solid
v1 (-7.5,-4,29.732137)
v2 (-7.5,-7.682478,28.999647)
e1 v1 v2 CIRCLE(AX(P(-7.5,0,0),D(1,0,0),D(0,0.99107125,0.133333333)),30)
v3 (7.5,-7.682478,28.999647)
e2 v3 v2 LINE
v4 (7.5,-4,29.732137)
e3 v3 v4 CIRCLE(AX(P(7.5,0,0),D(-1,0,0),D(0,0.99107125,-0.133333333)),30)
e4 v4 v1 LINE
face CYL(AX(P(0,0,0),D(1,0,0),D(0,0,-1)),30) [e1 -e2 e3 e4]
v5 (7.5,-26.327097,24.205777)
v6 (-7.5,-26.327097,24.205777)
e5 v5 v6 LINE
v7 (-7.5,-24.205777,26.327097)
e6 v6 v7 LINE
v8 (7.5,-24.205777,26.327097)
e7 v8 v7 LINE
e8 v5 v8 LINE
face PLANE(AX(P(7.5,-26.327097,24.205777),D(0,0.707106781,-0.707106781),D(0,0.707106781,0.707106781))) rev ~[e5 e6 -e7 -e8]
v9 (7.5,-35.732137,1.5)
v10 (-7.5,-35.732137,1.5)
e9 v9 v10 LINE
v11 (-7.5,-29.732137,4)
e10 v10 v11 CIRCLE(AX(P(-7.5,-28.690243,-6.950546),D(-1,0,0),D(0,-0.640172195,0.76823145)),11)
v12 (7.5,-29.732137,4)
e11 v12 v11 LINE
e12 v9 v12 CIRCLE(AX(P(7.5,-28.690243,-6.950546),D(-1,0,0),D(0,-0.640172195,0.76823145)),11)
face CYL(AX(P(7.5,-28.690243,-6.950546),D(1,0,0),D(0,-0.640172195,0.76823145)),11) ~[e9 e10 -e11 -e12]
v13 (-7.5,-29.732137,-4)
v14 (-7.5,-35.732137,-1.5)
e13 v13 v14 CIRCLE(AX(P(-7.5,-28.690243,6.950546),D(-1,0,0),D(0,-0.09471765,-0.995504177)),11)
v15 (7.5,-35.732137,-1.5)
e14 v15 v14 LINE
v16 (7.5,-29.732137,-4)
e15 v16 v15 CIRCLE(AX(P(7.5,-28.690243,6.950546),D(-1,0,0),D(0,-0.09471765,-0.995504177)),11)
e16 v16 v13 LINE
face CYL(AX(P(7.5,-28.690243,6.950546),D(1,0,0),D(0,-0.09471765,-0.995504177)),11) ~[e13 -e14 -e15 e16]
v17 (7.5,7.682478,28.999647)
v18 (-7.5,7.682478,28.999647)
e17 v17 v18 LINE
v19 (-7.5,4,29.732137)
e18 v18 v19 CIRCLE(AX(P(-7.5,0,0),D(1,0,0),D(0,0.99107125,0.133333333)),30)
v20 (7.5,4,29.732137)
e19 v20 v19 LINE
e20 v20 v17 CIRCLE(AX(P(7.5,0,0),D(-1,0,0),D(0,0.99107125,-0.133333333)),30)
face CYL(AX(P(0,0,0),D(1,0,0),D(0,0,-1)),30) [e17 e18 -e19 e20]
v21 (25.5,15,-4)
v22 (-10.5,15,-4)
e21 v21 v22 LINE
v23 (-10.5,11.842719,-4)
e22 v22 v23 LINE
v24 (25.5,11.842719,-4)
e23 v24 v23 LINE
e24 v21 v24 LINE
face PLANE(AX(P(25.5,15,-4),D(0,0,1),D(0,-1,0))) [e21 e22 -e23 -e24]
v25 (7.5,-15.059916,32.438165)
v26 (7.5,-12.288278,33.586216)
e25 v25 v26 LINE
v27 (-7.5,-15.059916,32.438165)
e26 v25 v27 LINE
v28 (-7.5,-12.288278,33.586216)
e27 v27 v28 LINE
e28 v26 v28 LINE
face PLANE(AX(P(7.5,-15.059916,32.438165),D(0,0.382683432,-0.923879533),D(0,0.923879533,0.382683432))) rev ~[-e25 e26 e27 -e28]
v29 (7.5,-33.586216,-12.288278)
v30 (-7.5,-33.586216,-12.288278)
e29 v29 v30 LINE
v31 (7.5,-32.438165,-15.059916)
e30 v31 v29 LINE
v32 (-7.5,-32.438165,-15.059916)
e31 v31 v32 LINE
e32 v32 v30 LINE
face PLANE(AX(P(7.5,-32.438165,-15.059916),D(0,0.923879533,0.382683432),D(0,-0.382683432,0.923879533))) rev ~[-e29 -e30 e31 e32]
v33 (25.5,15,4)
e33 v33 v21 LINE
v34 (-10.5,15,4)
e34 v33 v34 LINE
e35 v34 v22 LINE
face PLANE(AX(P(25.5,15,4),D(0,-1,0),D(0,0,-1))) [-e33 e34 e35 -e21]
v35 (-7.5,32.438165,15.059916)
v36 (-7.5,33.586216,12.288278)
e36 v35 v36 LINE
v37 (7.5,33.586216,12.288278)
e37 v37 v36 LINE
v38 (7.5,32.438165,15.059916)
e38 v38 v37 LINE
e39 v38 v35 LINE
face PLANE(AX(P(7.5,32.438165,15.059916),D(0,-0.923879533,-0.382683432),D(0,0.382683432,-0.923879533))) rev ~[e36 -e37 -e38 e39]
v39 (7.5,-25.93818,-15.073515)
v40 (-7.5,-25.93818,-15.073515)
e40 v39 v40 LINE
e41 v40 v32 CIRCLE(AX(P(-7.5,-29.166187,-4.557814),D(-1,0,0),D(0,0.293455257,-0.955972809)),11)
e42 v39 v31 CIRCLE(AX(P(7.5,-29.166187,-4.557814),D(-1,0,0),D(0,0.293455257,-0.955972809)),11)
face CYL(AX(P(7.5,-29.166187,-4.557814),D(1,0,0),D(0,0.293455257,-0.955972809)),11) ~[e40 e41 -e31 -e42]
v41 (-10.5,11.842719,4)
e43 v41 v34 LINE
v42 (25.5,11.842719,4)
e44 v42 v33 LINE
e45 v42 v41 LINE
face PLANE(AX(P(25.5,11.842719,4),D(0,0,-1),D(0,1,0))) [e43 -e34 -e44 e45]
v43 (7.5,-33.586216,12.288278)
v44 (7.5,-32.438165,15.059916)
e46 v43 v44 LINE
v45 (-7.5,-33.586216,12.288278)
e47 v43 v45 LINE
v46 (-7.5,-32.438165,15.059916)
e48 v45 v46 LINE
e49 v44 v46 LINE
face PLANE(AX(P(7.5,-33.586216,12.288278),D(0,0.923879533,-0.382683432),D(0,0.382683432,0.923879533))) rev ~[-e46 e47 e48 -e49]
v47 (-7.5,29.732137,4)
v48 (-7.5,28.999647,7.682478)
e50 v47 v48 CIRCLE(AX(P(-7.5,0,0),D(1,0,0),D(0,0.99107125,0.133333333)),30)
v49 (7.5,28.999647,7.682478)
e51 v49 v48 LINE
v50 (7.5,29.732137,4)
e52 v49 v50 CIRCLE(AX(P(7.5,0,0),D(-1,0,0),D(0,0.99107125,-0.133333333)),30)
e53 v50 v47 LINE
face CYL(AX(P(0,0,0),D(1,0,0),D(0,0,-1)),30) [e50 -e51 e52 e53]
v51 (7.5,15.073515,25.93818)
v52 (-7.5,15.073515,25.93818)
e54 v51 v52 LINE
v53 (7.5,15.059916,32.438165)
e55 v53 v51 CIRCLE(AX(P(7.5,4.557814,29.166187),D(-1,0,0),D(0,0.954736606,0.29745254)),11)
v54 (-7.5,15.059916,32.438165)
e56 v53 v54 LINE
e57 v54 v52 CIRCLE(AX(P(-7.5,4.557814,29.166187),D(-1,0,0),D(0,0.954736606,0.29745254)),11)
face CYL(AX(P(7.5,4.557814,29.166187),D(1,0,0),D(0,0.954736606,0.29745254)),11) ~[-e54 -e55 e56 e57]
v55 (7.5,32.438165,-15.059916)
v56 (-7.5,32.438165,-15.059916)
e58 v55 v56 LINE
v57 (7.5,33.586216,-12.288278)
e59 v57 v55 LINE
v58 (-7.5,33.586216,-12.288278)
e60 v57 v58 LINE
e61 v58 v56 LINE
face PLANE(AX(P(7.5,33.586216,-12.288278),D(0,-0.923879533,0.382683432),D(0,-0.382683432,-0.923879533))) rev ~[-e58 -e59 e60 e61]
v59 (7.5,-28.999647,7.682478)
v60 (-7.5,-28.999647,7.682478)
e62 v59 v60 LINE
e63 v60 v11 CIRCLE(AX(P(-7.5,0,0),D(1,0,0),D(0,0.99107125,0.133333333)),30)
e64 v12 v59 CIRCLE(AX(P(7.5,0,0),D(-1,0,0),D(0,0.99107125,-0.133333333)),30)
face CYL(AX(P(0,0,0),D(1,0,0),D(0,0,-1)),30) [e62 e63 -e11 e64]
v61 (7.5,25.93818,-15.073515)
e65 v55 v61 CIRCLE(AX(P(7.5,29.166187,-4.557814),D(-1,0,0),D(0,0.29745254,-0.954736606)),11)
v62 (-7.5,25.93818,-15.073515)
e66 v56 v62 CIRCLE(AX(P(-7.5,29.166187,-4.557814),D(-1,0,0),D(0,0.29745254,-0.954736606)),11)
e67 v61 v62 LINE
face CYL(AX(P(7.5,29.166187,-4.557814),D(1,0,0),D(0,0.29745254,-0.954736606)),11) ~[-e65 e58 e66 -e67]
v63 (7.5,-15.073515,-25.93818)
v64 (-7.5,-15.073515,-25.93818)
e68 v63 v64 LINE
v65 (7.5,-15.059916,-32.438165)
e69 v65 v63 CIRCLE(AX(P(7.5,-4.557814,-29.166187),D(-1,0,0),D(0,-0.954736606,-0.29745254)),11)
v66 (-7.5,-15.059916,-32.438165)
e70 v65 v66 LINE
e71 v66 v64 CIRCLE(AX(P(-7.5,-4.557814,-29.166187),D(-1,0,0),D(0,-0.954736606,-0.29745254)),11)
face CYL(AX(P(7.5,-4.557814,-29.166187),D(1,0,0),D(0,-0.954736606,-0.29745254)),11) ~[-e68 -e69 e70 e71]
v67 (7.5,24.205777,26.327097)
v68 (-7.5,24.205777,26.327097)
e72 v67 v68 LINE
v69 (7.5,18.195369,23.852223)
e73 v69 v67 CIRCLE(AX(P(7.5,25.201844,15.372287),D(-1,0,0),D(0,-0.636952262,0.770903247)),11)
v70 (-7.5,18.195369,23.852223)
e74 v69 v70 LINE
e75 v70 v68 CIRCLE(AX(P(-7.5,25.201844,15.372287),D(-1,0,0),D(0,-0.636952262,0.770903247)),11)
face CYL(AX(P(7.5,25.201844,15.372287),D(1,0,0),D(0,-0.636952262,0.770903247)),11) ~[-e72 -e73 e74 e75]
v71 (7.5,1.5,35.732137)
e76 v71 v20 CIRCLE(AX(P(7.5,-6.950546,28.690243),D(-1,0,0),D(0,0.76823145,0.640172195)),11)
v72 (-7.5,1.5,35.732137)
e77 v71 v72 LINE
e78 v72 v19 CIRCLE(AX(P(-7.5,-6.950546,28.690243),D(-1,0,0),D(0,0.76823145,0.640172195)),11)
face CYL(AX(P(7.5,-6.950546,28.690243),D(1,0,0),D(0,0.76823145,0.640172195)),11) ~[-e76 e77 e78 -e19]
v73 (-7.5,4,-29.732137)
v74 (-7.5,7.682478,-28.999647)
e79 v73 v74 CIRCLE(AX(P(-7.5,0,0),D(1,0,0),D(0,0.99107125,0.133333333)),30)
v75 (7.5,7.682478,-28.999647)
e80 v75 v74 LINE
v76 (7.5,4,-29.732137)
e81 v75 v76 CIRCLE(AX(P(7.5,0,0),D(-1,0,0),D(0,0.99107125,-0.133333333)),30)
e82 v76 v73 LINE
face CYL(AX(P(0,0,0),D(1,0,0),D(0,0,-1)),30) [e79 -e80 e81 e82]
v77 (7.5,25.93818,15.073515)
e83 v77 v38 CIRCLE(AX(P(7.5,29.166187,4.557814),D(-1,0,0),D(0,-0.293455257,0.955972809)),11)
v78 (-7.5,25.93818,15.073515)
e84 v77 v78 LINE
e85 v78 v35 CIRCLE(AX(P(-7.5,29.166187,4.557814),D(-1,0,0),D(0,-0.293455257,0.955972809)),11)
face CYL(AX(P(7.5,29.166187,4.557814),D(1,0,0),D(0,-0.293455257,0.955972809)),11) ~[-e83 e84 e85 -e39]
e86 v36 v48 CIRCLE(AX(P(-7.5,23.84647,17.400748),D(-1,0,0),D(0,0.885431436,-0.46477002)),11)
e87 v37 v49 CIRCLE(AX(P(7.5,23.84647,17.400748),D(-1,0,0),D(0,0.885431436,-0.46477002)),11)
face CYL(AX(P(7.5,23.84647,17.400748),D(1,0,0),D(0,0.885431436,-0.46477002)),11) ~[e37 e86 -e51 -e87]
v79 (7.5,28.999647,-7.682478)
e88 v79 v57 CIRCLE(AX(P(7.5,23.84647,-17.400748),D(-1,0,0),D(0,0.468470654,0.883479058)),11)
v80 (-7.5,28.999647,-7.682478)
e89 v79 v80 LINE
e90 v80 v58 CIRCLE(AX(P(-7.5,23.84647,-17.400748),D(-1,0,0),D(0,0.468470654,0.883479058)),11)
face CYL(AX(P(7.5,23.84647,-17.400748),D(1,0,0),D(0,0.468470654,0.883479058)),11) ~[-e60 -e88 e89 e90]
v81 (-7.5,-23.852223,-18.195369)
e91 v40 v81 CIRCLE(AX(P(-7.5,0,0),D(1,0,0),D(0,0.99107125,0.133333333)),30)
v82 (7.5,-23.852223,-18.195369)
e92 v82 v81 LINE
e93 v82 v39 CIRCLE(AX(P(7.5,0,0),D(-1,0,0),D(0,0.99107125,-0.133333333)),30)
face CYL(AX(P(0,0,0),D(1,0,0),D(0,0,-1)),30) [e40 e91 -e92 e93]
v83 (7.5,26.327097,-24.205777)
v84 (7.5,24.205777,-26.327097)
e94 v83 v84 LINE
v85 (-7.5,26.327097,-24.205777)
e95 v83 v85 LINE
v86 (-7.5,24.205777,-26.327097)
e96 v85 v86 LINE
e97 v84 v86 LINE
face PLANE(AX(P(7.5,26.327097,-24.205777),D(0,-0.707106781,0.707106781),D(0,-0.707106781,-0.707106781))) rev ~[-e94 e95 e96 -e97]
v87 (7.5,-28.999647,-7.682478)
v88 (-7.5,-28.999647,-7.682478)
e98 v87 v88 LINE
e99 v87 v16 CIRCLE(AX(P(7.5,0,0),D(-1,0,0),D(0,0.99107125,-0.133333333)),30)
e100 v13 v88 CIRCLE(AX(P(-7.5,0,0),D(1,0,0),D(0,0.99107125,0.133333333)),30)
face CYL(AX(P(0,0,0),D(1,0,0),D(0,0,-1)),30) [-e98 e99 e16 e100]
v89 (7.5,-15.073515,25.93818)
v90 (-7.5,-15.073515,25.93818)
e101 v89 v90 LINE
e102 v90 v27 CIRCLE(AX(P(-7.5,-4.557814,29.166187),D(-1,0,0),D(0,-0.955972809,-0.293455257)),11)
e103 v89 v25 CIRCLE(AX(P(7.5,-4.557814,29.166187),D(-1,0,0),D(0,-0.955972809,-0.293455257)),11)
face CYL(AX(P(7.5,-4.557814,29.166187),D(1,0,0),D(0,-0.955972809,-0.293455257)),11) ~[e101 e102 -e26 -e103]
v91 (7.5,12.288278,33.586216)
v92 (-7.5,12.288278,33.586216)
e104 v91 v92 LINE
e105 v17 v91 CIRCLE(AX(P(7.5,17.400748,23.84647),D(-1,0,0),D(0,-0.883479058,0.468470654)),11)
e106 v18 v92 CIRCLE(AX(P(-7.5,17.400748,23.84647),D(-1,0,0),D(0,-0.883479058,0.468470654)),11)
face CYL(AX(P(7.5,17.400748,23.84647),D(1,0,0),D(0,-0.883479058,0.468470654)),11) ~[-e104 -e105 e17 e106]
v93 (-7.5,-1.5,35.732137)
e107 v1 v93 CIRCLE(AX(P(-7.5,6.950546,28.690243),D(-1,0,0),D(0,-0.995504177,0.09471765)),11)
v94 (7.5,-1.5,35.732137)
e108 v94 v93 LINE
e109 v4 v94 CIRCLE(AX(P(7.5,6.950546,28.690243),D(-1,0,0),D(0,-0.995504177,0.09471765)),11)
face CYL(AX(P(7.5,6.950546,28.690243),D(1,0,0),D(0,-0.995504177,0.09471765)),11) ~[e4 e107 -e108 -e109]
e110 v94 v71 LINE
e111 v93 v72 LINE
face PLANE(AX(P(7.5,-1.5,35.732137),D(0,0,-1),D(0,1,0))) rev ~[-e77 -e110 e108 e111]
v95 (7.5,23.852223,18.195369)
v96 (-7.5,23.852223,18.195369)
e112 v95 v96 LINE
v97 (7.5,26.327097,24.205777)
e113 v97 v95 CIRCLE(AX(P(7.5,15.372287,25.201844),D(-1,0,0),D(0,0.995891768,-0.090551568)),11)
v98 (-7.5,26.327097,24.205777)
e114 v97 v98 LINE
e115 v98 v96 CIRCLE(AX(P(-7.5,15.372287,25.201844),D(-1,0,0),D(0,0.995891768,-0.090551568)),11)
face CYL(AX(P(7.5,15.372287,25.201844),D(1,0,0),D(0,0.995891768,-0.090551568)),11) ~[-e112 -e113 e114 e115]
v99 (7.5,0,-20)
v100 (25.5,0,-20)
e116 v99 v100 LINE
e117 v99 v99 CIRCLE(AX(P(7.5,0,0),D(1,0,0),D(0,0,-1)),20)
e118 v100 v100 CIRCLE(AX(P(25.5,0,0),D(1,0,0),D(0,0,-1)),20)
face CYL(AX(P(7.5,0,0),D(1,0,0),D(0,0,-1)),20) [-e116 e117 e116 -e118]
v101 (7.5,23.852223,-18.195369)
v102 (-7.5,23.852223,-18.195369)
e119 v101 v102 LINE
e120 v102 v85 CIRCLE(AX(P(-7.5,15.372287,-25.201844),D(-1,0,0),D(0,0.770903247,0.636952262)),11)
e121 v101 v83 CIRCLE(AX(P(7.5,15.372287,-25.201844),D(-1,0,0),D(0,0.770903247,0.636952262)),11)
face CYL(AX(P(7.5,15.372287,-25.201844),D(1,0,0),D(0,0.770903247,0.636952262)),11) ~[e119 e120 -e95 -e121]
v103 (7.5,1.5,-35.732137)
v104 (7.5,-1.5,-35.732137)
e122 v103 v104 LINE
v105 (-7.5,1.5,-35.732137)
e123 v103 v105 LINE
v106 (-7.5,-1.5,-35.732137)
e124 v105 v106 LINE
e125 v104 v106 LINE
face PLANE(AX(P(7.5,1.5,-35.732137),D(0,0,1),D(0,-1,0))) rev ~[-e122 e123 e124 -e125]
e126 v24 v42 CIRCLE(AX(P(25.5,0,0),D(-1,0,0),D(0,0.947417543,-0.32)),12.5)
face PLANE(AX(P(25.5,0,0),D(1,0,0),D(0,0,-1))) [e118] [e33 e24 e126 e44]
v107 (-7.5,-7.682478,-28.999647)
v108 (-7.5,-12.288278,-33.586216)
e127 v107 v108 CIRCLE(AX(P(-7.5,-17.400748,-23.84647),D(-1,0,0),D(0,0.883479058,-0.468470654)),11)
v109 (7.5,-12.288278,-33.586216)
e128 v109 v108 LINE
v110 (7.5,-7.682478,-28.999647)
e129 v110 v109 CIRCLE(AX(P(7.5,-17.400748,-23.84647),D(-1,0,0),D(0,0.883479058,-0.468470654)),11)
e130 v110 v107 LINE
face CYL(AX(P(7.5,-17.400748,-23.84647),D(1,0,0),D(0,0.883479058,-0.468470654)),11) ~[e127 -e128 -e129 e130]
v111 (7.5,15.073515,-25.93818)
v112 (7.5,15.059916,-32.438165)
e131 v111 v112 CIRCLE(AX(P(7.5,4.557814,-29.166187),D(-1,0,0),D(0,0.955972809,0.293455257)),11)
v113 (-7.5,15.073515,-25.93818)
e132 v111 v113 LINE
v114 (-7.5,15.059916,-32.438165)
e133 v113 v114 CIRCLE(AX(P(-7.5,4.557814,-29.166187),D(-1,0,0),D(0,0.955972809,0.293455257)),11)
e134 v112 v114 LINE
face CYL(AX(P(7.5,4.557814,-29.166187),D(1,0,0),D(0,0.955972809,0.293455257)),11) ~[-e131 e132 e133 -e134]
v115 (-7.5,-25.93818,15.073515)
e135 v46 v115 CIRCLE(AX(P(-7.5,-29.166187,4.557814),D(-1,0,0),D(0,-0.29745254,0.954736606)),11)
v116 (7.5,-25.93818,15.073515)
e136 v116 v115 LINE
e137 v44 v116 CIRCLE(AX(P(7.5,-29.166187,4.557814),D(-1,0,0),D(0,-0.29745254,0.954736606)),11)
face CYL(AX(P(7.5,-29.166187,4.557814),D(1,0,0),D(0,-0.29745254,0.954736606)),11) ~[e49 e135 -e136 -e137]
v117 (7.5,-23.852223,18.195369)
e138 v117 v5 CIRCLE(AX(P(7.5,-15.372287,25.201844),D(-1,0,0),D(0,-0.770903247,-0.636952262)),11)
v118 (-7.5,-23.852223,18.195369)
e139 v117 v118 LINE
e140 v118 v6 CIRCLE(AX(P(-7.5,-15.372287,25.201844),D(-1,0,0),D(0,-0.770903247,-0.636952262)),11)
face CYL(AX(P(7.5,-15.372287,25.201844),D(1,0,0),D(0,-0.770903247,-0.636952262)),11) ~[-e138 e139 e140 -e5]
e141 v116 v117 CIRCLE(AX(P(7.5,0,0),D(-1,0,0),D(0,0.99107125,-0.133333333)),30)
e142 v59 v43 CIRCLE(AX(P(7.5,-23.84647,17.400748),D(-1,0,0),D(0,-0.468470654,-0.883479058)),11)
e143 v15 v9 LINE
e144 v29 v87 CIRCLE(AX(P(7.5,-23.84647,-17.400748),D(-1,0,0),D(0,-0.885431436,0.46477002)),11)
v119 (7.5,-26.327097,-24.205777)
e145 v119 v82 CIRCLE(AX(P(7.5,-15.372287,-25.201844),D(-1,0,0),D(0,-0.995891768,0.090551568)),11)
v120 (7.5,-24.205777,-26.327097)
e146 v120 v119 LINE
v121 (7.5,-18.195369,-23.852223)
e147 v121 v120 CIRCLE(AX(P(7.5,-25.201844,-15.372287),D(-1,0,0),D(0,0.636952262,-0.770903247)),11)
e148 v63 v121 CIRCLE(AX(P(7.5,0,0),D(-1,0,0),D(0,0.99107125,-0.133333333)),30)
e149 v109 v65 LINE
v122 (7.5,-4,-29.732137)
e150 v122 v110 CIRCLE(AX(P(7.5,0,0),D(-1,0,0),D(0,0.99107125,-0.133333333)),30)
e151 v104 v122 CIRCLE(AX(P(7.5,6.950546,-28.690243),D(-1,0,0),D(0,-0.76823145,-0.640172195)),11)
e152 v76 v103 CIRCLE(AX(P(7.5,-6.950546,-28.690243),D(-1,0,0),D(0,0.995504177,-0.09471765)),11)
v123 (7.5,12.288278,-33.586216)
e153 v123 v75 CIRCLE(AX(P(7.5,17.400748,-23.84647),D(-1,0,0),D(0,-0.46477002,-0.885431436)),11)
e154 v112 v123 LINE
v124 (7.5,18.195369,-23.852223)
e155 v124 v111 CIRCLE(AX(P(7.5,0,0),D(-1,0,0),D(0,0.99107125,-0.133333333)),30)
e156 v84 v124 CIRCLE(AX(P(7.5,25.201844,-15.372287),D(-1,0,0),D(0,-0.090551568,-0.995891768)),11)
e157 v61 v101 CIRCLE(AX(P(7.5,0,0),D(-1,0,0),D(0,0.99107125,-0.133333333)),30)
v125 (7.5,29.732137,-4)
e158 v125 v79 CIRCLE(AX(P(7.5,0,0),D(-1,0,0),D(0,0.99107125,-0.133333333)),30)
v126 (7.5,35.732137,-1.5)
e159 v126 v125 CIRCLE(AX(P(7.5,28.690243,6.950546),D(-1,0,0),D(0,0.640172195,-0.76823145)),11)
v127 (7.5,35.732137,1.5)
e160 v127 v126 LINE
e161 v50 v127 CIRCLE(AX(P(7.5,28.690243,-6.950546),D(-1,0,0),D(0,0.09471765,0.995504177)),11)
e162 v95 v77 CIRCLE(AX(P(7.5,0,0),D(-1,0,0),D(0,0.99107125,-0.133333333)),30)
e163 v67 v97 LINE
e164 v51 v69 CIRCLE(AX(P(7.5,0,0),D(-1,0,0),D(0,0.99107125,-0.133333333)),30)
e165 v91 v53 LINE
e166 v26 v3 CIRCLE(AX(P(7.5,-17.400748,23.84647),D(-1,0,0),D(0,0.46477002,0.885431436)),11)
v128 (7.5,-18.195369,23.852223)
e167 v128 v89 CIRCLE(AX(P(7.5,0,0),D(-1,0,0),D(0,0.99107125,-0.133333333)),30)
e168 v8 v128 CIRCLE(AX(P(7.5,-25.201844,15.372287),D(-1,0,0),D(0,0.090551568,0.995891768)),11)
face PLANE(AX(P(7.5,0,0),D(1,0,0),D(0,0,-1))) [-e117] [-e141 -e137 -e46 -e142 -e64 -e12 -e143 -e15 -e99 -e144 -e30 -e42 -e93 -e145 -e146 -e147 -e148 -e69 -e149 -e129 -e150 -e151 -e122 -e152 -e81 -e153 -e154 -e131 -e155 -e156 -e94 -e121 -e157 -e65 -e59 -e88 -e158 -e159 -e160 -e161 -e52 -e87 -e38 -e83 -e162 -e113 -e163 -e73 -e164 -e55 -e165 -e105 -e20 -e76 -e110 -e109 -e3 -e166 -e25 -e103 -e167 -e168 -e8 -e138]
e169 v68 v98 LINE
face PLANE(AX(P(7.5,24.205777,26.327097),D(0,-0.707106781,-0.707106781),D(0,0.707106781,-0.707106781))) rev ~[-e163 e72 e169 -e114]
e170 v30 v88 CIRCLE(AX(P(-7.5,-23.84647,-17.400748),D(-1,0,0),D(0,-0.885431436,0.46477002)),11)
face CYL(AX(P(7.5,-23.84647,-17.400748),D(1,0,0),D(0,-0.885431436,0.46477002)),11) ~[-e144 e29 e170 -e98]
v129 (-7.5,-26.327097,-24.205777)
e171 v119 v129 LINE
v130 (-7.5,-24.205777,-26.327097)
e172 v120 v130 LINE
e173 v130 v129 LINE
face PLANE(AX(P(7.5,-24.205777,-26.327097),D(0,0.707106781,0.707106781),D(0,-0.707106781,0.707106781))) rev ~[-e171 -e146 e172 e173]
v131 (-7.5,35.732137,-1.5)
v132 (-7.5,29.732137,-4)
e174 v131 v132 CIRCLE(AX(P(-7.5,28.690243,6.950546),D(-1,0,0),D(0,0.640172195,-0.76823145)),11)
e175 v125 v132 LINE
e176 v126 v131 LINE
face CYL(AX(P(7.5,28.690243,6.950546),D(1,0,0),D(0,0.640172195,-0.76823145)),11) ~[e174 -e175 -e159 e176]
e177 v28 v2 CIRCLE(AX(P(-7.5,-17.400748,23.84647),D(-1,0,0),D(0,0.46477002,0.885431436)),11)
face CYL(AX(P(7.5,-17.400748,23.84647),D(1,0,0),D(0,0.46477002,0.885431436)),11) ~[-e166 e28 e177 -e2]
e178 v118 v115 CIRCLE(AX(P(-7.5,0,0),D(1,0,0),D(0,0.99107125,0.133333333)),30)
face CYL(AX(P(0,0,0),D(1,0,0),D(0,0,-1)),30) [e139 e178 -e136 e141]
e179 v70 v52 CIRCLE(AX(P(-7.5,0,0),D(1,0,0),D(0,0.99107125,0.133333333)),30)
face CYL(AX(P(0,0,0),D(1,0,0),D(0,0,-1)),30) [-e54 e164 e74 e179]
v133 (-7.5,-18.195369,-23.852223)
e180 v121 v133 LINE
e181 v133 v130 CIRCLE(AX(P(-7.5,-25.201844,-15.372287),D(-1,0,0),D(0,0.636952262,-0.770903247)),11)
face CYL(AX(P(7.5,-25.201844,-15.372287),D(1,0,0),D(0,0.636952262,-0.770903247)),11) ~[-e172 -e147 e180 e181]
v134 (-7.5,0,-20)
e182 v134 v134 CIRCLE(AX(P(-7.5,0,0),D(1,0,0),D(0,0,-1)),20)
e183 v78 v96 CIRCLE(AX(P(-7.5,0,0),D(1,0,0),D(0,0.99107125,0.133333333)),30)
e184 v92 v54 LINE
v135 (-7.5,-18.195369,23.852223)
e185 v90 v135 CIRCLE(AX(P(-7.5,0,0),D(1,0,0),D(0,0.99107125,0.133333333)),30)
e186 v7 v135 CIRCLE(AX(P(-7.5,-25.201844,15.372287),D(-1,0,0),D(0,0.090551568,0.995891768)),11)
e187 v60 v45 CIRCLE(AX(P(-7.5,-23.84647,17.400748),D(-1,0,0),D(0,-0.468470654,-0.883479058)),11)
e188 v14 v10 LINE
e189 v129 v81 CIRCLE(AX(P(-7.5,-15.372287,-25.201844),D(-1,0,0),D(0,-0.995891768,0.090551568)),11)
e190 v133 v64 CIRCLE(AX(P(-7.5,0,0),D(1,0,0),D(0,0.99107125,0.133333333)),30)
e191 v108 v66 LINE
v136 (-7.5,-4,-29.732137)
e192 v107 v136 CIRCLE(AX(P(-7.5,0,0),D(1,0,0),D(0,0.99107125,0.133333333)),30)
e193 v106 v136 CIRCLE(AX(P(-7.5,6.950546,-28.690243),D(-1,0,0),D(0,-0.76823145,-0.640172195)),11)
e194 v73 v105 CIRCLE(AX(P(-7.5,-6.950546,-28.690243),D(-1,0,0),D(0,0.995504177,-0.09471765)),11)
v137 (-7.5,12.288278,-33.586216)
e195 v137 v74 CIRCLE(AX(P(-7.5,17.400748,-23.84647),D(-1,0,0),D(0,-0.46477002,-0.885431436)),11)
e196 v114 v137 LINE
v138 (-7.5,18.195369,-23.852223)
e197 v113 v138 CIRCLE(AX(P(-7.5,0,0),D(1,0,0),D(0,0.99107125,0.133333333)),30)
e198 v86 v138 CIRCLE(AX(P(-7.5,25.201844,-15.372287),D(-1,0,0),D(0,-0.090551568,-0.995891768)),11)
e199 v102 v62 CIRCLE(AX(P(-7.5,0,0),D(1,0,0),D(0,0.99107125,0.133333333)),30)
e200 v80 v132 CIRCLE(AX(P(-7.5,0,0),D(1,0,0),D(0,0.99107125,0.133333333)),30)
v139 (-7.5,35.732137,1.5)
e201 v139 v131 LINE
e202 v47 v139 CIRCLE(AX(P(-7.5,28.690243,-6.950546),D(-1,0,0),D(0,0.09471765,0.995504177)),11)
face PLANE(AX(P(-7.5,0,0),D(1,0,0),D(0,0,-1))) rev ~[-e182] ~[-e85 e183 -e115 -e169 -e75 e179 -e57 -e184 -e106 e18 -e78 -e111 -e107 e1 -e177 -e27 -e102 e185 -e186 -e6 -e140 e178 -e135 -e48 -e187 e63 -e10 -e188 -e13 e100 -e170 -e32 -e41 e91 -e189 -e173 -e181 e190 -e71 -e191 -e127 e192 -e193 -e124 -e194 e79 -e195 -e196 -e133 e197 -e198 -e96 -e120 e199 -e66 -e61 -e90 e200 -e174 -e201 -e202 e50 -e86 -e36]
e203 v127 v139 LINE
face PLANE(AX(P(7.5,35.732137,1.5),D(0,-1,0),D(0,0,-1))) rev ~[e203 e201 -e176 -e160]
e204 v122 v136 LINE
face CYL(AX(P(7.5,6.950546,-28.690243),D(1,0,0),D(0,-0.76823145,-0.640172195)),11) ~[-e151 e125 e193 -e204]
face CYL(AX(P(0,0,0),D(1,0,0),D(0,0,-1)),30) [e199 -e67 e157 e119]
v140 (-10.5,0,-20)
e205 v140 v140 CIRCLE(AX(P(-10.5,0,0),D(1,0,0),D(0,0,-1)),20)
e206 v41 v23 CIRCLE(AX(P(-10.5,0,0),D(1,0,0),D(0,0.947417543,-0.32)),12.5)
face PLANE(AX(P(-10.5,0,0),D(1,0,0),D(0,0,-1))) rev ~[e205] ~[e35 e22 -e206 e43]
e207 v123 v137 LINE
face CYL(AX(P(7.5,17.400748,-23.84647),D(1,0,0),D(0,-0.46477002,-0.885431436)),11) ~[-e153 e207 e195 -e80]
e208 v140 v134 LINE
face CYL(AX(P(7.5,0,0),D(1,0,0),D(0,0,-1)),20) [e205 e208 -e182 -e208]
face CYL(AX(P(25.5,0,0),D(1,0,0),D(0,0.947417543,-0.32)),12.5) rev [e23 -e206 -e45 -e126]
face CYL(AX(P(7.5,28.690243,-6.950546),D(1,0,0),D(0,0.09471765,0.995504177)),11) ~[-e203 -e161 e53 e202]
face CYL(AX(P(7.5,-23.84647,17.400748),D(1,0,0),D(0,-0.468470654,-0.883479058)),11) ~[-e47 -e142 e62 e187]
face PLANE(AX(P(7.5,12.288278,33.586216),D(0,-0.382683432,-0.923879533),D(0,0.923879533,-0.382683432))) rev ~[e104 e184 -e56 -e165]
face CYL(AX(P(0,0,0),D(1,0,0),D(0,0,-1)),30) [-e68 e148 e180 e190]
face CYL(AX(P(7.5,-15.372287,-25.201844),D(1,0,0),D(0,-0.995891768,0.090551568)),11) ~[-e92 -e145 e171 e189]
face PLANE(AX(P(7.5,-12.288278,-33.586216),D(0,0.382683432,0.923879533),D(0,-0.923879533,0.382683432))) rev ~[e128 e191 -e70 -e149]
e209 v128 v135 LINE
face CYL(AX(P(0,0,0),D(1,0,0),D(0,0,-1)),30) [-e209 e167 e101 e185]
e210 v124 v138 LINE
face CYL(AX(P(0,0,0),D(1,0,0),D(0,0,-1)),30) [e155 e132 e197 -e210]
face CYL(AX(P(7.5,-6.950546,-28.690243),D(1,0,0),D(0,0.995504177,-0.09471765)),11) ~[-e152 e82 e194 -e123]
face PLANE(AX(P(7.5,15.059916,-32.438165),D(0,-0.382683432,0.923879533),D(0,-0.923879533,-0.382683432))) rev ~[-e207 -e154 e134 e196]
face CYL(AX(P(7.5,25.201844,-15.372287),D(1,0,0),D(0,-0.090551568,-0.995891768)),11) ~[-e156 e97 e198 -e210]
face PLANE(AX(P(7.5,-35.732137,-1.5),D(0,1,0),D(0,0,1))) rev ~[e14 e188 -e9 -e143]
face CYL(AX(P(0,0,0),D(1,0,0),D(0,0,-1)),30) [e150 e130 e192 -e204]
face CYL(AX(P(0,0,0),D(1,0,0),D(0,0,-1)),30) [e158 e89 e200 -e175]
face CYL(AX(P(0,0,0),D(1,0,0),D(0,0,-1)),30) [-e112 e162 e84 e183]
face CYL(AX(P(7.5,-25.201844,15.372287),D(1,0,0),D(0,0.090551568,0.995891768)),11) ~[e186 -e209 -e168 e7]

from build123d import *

# Parameters (mm, degrees)
SKETCH1_R           = 30
BOSS_EXTRUDE1_DEPTH = 7.5
BOSS_EXTRUDE2_DEPTH = 15
CIRPATTERN1_COUNT   = 16
SKETCH3_R           = 20
BOSS_EXTRUDE3_DEPTH = 18
CUT_EXTRUDE1_DEPTH  = 44


with BuildPart() as part:
    # Sketch1 → Boss-Extrude1 (new body, symmetric)
    with BuildSketch(Plane(origin=(0, 0, 0), x_dir=(0, 0, -1), z_dir=(1, 0, 0))):
        Circle(SKETCH1_R)
    extrude(amount=BOSS_EXTRUDE1_DEPTH, both=True)

    # Sketch2 → Boss-Extrude2 (add, through all)
    with BuildSketch(Plane(origin=(7.5, 0, 0), x_dir=(0, 0, -1), z_dir=(1, 0, 0))):
        with BuildLine():
            Line((-1.5, 35.732137495), (1.5, 35.732137495))
            ThreePointArc((1.5, 35.732137495), (3.203300204, 32.92101258), (4, 29.732137495))
            ThreePointArc((4, 29.732137495), (0, 30), (-4, 29.732137495))
            ThreePointArc((-4, 29.732137495), (-3.203300204, 32.92101258), (-1.5, 35.732137495))
        make_face()
    boss_extrude2 = extrude(amount=-BOSS_EXTRUDE2_DEPTH)

    # CirPattern1: Boss-Extrude2 ×16 about axis
    cirpattern1_axis = Axis((0, 0, 0), (1, 0, 0))
    for i in range(1, CIRPATTERN1_COUNT):
        add(boss_extrude2.rotate(cirpattern1_axis, i * 360 / CIRPATTERN1_COUNT))

    # Sketch3 → Boss-Extrude3 (add, symmetric)
    with BuildSketch(Plane(origin=(7.5, 0, 0), x_dir=(0, 0, -1), z_dir=(1, 0, 0))):
        Circle(SKETCH3_R)
    extrude(amount=BOSS_EXTRUDE3_DEPTH, both=True)

    # Sketch4 → Cut-Extrude1 (cut)
    with BuildSketch(Plane(origin=(25.5, 0, 0), x_dir=(0, 0, -1), z_dir=(1, 0, 0))):
        with BuildLine():
            Line((-4, 15), (4, 15))
            Line((4, 15), (4, 11.842719282))
            ThreePointArc((4, 11.842719282), (0, -12.5), (-4, 11.842719282))
            Line((-4, 11.842719282), (-4, 15))
        make_face()
    extrude(amount=-CUT_EXTRUDE1_DEPTH, mode=Mode.SUBTRACT)


solid = part.part
